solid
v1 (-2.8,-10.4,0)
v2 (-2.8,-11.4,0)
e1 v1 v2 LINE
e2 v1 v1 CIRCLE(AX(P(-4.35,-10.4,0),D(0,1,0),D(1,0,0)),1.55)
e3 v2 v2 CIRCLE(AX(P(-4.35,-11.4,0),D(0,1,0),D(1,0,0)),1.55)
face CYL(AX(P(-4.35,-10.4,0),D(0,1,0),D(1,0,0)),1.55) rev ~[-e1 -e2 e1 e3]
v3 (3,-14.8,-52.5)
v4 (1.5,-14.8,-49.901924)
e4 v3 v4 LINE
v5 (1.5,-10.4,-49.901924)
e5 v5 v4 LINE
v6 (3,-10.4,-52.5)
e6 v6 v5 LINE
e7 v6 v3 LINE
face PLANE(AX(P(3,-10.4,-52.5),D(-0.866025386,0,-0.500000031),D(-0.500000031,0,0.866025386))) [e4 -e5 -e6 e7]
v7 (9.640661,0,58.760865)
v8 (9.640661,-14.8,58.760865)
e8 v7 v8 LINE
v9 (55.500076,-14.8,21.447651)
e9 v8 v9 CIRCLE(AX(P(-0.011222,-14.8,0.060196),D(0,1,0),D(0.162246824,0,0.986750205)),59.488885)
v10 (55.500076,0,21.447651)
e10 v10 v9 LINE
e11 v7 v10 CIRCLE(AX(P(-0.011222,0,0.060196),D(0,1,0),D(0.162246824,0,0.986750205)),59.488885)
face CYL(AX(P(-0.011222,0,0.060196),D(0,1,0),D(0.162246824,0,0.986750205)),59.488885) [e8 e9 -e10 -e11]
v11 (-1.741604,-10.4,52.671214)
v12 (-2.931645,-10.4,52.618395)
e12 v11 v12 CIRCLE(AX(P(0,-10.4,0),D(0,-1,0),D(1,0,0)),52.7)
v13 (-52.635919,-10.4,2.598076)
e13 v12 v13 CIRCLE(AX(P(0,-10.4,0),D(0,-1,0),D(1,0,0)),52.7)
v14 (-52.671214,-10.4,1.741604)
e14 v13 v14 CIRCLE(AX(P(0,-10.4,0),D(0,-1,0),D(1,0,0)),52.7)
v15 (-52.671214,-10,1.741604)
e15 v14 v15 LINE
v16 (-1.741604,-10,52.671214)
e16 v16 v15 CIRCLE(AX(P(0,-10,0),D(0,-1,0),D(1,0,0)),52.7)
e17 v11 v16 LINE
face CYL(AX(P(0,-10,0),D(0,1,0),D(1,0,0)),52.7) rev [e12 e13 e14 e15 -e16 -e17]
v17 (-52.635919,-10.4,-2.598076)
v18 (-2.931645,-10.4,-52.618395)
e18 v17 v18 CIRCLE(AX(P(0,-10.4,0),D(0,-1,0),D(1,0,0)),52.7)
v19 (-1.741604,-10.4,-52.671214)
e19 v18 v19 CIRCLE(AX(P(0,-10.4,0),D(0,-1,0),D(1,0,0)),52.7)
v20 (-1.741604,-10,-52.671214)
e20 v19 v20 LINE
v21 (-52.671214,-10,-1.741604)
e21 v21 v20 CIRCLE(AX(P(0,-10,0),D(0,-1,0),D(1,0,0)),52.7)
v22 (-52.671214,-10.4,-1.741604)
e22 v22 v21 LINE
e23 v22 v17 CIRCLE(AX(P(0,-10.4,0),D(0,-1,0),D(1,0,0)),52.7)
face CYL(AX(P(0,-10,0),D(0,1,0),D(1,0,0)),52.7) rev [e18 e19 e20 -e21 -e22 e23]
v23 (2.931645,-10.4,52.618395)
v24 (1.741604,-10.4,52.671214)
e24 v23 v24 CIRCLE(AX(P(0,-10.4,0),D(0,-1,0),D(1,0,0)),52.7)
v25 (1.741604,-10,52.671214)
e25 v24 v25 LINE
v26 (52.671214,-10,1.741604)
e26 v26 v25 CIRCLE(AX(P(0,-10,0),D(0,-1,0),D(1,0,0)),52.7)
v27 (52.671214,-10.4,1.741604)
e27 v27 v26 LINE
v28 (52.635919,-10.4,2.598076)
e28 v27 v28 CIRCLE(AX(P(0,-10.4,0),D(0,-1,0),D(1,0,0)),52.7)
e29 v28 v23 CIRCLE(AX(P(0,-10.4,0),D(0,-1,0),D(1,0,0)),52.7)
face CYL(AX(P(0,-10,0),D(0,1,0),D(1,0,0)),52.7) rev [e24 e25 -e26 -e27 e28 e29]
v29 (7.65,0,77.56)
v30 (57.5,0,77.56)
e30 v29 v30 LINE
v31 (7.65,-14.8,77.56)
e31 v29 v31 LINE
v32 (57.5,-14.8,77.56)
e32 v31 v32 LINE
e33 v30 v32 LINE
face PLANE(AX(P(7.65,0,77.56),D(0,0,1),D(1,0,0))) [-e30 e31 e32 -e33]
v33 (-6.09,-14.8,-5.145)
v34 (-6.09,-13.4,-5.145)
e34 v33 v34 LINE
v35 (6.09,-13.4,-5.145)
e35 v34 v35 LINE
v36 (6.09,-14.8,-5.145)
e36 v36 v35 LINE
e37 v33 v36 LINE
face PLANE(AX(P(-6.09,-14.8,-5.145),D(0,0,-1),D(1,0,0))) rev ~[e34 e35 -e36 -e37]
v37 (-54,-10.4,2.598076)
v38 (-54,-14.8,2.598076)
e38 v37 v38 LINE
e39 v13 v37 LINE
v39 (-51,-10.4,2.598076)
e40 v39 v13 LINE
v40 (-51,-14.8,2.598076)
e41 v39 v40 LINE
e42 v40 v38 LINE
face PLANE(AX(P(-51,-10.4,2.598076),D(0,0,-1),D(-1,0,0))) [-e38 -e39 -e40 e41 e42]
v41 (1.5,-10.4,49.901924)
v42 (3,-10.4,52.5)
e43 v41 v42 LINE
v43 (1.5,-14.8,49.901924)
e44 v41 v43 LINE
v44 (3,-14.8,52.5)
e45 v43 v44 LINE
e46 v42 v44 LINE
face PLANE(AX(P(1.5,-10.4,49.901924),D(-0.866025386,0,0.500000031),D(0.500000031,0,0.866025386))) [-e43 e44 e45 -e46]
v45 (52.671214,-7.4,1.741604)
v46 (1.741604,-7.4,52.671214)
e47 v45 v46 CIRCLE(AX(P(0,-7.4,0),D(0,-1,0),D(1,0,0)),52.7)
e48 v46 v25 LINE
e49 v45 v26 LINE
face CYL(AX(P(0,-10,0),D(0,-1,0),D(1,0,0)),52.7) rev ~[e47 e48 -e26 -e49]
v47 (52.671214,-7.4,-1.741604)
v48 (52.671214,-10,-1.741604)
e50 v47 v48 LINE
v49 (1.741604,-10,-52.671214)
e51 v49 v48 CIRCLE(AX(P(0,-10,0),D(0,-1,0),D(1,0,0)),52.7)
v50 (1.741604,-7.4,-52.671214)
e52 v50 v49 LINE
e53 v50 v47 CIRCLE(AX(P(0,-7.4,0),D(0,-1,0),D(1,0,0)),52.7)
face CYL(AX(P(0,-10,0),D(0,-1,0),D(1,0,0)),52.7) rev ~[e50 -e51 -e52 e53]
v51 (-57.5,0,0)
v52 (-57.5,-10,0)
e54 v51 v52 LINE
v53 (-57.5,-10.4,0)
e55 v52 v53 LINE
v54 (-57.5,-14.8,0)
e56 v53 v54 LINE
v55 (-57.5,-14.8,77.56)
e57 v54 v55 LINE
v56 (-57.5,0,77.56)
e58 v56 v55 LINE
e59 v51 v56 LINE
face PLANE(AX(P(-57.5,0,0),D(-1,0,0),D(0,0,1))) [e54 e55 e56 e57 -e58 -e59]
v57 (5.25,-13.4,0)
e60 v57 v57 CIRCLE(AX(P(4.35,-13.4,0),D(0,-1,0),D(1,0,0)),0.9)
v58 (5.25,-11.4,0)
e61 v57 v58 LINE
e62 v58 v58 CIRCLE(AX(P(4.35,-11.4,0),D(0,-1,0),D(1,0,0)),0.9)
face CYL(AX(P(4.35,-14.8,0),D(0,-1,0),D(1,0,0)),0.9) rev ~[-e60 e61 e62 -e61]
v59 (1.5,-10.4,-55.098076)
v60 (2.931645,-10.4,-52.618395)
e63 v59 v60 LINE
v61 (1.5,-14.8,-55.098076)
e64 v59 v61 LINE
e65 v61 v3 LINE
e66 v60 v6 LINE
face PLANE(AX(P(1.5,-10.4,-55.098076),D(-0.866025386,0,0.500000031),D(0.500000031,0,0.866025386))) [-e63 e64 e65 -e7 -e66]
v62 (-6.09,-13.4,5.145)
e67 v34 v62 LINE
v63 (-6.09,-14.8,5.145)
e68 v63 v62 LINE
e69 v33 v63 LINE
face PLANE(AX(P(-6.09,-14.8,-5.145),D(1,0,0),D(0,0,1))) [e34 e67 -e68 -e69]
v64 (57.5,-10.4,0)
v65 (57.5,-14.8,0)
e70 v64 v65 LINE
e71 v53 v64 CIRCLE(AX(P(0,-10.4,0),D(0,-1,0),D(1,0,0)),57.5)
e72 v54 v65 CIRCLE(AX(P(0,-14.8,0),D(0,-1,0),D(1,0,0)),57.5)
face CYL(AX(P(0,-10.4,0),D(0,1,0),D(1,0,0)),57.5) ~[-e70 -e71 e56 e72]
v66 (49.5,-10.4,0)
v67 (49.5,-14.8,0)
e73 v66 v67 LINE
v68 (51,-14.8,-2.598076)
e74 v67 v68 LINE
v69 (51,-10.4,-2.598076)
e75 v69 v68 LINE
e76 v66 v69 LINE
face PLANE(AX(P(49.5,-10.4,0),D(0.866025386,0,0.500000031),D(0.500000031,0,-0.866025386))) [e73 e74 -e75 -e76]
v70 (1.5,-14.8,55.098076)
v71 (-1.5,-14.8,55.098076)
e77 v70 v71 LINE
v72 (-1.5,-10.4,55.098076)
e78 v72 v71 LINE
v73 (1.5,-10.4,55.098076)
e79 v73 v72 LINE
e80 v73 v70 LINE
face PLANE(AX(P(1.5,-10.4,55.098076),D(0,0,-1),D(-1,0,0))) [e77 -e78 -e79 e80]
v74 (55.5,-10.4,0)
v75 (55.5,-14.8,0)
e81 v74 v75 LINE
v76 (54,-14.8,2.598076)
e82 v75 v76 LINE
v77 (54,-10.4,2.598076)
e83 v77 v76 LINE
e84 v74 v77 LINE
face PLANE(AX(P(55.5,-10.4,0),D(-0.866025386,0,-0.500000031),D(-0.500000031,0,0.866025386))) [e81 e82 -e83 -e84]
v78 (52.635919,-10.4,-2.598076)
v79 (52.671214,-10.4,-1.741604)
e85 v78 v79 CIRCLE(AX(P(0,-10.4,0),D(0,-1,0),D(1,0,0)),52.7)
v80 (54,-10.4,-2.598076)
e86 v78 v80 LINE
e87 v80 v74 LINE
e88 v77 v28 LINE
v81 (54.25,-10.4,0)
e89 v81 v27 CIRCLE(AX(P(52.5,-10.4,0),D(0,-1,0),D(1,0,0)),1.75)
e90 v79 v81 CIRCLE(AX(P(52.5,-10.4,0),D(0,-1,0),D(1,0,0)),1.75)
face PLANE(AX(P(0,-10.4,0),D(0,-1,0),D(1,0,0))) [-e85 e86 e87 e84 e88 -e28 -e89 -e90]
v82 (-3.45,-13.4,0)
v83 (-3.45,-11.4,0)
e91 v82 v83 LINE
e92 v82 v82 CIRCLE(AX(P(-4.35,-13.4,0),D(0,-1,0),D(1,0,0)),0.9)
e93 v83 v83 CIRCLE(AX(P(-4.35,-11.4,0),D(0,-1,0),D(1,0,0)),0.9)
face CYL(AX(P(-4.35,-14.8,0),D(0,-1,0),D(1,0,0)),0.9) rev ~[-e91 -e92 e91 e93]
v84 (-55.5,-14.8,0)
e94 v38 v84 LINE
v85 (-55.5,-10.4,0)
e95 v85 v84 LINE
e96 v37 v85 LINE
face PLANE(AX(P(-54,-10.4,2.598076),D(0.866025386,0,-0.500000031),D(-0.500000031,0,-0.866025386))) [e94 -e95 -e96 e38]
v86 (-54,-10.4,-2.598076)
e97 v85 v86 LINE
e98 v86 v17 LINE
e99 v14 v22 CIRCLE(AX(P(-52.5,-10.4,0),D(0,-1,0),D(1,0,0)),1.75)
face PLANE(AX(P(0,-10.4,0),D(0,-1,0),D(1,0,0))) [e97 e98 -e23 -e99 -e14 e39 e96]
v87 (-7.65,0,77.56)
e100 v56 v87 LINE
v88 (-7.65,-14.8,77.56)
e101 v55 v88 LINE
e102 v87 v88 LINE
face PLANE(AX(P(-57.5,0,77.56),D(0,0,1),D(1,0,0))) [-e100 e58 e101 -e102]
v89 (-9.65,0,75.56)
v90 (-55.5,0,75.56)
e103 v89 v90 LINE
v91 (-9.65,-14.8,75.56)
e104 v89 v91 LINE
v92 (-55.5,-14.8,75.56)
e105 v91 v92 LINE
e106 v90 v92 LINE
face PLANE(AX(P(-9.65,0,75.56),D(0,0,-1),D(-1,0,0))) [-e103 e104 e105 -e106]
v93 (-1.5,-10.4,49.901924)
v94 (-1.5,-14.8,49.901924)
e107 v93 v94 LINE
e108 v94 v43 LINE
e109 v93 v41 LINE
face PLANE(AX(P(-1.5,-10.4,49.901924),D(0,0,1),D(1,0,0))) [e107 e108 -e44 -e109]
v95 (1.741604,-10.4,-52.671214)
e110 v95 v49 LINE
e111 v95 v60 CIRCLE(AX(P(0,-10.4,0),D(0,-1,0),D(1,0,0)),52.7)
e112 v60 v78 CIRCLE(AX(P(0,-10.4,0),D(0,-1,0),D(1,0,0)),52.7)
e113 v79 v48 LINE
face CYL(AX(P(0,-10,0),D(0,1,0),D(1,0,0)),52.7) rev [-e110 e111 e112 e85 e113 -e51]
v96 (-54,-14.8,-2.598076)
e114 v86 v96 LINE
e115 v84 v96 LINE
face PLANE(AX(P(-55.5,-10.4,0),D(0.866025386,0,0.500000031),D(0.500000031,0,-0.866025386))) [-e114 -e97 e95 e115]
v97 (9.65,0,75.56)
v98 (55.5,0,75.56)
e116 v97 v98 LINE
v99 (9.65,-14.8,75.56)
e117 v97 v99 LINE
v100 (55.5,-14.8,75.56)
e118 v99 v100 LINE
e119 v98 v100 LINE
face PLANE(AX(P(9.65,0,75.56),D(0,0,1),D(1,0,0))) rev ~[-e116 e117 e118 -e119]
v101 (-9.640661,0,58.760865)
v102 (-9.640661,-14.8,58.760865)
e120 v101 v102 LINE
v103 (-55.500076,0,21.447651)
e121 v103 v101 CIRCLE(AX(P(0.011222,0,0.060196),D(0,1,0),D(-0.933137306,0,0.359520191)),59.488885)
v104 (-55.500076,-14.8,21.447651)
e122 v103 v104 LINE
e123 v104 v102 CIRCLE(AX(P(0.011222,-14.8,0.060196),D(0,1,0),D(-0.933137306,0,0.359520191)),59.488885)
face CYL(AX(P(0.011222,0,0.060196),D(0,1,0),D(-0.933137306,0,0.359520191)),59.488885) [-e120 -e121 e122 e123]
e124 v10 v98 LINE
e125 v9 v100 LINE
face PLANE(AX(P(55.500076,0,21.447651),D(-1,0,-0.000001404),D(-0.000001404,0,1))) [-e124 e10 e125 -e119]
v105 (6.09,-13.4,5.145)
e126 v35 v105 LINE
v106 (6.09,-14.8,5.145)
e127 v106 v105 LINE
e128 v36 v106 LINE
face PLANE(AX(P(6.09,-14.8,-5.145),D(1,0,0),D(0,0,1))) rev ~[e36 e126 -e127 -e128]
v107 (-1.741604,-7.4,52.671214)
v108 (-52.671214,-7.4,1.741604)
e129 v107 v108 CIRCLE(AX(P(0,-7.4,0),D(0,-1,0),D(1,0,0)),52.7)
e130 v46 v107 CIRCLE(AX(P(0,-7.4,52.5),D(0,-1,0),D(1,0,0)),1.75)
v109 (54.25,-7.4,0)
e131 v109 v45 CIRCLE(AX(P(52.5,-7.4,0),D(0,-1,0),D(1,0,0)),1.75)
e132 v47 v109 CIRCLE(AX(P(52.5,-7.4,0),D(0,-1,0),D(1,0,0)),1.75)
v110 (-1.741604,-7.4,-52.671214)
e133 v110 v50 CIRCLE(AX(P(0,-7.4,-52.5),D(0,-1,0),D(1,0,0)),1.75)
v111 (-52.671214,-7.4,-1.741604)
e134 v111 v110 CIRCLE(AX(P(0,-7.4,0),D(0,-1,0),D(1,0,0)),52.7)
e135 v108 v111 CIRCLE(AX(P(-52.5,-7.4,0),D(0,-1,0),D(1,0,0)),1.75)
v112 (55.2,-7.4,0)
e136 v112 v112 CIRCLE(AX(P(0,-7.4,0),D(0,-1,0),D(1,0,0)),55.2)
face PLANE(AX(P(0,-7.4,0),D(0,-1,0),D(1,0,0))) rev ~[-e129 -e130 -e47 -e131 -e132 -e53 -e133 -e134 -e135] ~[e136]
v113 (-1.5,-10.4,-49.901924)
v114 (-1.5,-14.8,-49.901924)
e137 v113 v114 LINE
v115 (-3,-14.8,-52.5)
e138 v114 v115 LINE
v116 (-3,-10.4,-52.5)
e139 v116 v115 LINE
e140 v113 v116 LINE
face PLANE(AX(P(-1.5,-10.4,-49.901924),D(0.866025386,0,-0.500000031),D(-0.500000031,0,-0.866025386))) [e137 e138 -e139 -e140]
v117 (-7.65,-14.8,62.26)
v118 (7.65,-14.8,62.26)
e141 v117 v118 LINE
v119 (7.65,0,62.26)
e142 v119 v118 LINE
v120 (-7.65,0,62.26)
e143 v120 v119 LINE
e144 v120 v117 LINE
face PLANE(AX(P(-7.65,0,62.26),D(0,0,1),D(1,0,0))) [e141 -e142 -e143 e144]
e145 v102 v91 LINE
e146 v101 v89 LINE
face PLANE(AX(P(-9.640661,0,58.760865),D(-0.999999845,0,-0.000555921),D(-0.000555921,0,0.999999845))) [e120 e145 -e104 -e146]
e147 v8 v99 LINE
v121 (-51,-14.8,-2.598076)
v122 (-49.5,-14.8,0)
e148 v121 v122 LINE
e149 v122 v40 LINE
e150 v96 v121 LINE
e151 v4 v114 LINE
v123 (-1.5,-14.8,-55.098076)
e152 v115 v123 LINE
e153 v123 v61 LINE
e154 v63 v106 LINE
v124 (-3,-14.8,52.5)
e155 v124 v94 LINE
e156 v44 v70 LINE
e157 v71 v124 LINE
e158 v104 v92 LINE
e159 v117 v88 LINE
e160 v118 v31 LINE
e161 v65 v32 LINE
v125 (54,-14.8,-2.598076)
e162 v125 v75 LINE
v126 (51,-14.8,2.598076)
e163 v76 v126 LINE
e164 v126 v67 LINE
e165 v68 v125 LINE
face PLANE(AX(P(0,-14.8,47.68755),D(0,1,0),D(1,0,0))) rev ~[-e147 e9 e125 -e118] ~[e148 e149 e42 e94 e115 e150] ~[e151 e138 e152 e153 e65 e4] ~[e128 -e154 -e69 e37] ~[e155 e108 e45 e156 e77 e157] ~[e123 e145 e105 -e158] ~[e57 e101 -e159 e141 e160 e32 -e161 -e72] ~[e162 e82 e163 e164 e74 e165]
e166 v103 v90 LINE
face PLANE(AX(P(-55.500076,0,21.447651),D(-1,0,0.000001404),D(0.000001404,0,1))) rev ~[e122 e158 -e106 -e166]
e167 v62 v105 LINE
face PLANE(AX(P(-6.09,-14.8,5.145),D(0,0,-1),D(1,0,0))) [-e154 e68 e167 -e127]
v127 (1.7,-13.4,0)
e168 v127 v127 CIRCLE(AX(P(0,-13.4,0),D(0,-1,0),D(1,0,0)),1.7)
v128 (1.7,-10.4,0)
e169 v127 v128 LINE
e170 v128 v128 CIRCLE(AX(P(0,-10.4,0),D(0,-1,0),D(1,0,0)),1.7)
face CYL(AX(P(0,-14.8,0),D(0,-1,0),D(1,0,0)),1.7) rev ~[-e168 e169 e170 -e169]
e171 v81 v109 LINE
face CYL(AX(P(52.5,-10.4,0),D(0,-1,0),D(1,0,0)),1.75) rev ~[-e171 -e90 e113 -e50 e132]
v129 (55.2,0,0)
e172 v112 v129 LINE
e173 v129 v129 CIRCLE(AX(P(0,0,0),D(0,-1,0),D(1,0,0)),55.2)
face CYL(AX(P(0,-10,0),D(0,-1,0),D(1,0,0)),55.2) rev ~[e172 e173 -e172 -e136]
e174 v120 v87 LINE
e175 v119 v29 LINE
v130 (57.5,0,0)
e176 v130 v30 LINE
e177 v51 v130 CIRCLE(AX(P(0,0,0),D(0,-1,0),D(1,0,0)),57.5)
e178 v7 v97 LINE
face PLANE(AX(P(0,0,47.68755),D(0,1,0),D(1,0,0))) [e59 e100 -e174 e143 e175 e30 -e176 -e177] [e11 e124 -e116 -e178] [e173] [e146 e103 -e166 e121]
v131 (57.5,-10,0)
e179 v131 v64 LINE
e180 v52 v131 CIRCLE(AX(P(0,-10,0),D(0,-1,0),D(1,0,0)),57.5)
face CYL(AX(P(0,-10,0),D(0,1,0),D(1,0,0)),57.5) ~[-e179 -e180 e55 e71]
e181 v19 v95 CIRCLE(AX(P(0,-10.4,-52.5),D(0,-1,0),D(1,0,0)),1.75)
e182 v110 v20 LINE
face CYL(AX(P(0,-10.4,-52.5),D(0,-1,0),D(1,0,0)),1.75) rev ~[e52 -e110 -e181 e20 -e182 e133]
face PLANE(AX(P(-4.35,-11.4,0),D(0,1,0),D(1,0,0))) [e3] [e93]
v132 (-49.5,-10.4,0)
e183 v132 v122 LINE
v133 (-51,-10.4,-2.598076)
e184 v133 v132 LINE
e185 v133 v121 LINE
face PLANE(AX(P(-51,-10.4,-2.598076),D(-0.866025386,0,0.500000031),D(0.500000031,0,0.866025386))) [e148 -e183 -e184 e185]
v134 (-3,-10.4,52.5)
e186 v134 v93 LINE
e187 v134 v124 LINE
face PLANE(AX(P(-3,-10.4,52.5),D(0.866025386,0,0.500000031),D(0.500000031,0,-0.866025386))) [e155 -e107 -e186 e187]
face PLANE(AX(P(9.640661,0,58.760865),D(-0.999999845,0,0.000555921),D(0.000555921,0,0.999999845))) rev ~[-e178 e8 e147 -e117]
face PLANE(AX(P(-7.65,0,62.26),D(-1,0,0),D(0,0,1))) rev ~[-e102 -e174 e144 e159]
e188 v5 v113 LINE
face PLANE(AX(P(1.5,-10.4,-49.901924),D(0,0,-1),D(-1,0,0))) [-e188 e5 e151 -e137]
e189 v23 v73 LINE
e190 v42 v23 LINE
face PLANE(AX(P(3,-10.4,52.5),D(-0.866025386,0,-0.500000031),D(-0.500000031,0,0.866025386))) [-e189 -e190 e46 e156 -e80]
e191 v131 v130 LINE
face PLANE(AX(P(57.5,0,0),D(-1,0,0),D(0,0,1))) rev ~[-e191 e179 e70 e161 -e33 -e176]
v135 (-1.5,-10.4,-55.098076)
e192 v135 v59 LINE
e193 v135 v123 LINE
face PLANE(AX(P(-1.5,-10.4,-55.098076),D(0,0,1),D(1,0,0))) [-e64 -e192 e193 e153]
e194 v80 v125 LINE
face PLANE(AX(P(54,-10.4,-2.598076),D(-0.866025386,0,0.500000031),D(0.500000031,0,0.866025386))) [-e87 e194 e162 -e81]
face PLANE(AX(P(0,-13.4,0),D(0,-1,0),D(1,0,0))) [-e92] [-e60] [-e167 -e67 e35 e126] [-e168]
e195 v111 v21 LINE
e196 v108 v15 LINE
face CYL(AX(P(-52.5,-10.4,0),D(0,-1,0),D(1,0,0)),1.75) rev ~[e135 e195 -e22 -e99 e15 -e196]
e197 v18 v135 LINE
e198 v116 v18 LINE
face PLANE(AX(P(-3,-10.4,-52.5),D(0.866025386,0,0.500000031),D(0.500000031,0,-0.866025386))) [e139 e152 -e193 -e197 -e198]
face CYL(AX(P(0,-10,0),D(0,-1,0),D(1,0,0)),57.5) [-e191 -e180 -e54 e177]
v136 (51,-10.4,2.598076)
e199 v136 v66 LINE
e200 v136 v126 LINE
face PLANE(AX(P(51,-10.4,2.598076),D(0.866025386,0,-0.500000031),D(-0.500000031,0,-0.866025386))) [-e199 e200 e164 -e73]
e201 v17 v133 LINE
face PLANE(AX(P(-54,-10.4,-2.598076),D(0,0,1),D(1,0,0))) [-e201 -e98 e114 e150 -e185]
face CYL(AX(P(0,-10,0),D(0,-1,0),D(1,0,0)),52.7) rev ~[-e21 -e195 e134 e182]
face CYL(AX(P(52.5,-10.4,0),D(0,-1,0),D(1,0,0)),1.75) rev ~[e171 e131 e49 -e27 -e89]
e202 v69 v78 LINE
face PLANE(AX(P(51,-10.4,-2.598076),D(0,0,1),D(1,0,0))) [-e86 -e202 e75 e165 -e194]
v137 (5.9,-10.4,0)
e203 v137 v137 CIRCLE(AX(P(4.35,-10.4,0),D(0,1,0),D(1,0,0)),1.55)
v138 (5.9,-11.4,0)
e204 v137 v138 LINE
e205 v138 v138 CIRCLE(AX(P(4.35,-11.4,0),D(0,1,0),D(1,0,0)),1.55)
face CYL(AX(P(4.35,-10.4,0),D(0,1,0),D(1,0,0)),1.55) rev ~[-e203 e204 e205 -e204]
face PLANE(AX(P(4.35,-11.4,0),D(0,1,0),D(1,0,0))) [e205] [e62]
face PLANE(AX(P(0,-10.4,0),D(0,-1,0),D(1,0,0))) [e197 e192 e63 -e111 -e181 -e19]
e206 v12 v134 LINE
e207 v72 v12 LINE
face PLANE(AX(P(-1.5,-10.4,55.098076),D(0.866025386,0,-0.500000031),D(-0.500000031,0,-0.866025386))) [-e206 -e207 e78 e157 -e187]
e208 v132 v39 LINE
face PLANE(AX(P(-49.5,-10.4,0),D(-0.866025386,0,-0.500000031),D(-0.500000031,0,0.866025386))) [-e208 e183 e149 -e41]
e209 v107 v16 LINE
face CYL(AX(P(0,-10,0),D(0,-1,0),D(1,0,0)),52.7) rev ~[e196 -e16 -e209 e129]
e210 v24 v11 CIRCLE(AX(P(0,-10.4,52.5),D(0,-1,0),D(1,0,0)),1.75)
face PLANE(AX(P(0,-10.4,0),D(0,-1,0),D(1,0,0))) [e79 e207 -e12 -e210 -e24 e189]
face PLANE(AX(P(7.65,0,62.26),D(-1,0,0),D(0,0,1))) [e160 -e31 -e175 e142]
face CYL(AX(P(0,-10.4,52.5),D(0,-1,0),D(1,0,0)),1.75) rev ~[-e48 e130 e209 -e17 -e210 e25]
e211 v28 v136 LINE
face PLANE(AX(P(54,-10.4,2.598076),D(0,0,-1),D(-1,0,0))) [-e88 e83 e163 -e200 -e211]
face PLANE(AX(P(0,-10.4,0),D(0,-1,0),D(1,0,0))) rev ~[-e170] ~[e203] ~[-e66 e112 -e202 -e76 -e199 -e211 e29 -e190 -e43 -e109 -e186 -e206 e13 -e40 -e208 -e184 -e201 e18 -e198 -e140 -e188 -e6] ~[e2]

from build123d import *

# Parameters (mm, degrees)
SKETCH073_R     = 57.5
SKETCH073_R_2   = 50.2
PAD023_DEPTH    = 10
SKETCH074_R     = 57.5
SKETCH074_R_2   = 52.7
PAD024_DEPTH    = 10
SKETCH075_R     = 55.2
SKETCH075_R_2   = 45.630592
POCKET038_DEPTH = 10.001
SKETCH076_R     = 55.2
SKETCH076_R_2   = 52.7
PAD025_DEPTH    = 2.6
SKETCH077_R     = 57.5
SKETCH077_R_2   = 52.7
PAD026_DEPTH    = 0.4
SKETCH078_R     = 1.75
POCKET039_DEPTH = 5
SKETCH079_R     = 57.5
PAD027_DEPTH    = 4.4
SKETCH080_W     = 12.18
SKETCH080_H     = 10.29
POCKET040_DEPTH = 1.4
SKETCH081_R     = 1.7
POCKET041_DEPTH = 14.801
SKETCH082_R     = 0.9
POCKET042_DEPTH = 14.801
SKETCH083_R     = 1.55
POCKET043_DEPTH = 1
PAD028_DEPTH    = 14.8


with BuildPart() as part:
    # Sketch073 (on DatumPlane) → Pad023 (new body)
    with BuildSketch(Plane.XZ.offset(10)):
        Circle(SKETCH073_R)
        Circle(SKETCH073_R_2, mode=Mode.SUBTRACT)
    extrude(amount=-PAD023_DEPTH)

    # Sketch074 (on DatumPlane) → Pad024 (new body)
    with BuildSketch(Plane.XZ.offset(10)):
        Circle(SKETCH074_R)
        Circle(SKETCH074_R_2, mode=Mode.SUBTRACT)
    extrude(amount=-PAD024_DEPTH)

    # Sketch075 (on Face4 of PolarPattern008) → Pocket038 (cut, through all)
    with BuildSketch(Plane.XZ.offset(10)):
        Circle(SKETCH075_R)
        Circle(SKETCH075_R_2, mode=Mode.SUBTRACT)
    extrude(amount=-POCKET038_DEPTH, mode=Mode.SUBTRACT)

    # Sketch076 (on Face2 of Pocket038) → Pad025 (new body)
    with BuildSketch(Plane.XZ.offset(10)):
        Circle(SKETCH076_R)
        Circle(SKETCH076_R_2, mode=Mode.SUBTRACT)
    extrude(amount=-PAD025_DEPTH)

    # Sketch077 (on Face6 of Pad025) → Pad026 (new body)
    with BuildSketch(Plane.XZ.offset(10)):
        Circle(SKETCH077_R)
        Circle(SKETCH077_R_2, mode=Mode.SUBTRACT)
    extrude(amount=PAD026_DEPTH)

    # Sketch078 (on Face5 of Pad026) → Pocket039 (cut)
    with BuildSketch(Plane.XZ.offset(10.4)):
        with Locations((0, -52.5)):
            Circle(SKETCH078_R)
        with Locations((-52.5, 0)):
            Circle(SKETCH078_R)
        with Locations((0, 52.5)):
            Circle(SKETCH078_R)
        with Locations((52.5, 0)):
            Circle(SKETCH078_R)
    extrude(amount=-POCKET039_DEPTH, mode=Mode.SUBTRACT)

    # Sketch079 (on Face4 of Pocket039) → Pad027 (new body)
    with BuildSketch(Plane.XZ.offset(10.4)):
        Circle(SKETCH079_R)
        Polygon((3, -52.5), (1.5, -49.901924), (-1.5, -49.901924), (-3, -52.5), (-1.5, -55.098076), (1.5, -55.098076), align=None, mode=Mode.SUBTRACT)
        Polygon((3, 52.5), (1.5, 55.098076), (-1.5, 55.098076), (-3, 52.5), (-1.5, 49.901924), (1.5, 49.901924), align=None, mode=Mode.SUBTRACT)
        Polygon((-49.5, 0), (-51, 2.598076), (-54, 2.598076), (-55.5, 0), (-54, -2.598076), (-51, -2.598076), align=None, mode=Mode.SUBTRACT)
        Polygon((55.5, 0), (54, 2.598076), (51, 2.598076), (49.5, 0), (51, -2.598076), (54, -2.598076), align=None, mode=Mode.SUBTRACT)
    extrude(amount=PAD027_DEPTH)

    # Sketch080 (on Face13 of Pad027) → Pocket040 (cut)
    with BuildSketch(Plane.XZ.offset(14.8)):
        Rectangle(SKETCH080_W, SKETCH080_H)
    extrude(amount=-POCKET040_DEPTH, mode=Mode.SUBTRACT)

    # Sketch081 (on Face4 of Pocket040) → Pocket041 (cut, through all)
    with BuildSketch(Plane.XZ.offset(14.8)):
        Circle(SKETCH081_R)
    extrude(amount=-POCKET041_DEPTH, mode=Mode.SUBTRACT)

    # Sketch082 (on Face4 of Pocket041) → Pocket042 (cut, through all)
    with BuildSketch(Plane.XZ.offset(14.8)):
        with Locations((-4.35, 0)):
            Circle(SKETCH082_R)
        with Locations((4.35, 0)):
            Circle(SKETCH082_R)
    extrude(amount=-POCKET042_DEPTH, mode=Mode.SUBTRACT)

    # Sketch083 (on Face42 of Pocket042) → Pocket043 (cut)
    with BuildSketch(Plane(origin=(0, -10.4, 0), x_dir=(1, 0, 0), z_dir=(0, 1, 0))):
        with Locations((-4.35, 0)):
            Circle(SKETCH083_R)
        with Locations((4.35, 0)):
            Circle(SKETCH083_R)
    extrude(amount=-POCKET043_DEPTH, mode=Mode.SUBTRACT)

    # Sketch084 (on Face1 of Pocket043) → Pad028 (new body)
    with BuildSketch(Plane(origin=(0, 0, 0), x_dir=(1, 0, 0), z_dir=(0, 1, 0))):
        with BuildLine():
            Line((-7.65, -62.26), (7.65, -62.26))
            Line((7.65, -62.26), (7.65, -77.56))
            Line((7.65, -77.56), (57.5, -77.56))
            Line((57.5, 0), (57.5, -77.56))
            ThreePointArc((-57.5, 0), (0, -57.5), (57.5, 0))
            Line((-57.5, 0), (-57.5, -77.56))
            Line((-57.5, -77.56), (-7.65, -77.56))
            Line((-7.65, -62.26), (-7.65, -77.56))
        make_face()
        with BuildLine():
            Line((9.640661, -58.760865), (9.65, -75.56))
            Line((9.65, -75.56), (55.5, -75.56))
            Line((55.500076, -21.447651), (55.5, -75.56))
            ThreePointArc((9.640661, -58.760865), (37.533805, -46.204517), (55.500076, -21.447651))
        make_face(mode=Mode.SUBTRACT)
        with BuildLine():
            Line((-9.65, -75.56), (-55.5, -75.56))
            Line((-55.500076, -21.447651), (-55.5, -75.56))
            ThreePointArc((-55.500076, -21.447651), (-37.533805, -46.204517), (-9.640661, -58.760865))
            Line((-9.640661, -58.760865), (-9.65, -75.56))
        make_face(mode=Mode.SUBTRACT)
    extrude(amount=-PAD028_DEPTH)


solid = part.part
